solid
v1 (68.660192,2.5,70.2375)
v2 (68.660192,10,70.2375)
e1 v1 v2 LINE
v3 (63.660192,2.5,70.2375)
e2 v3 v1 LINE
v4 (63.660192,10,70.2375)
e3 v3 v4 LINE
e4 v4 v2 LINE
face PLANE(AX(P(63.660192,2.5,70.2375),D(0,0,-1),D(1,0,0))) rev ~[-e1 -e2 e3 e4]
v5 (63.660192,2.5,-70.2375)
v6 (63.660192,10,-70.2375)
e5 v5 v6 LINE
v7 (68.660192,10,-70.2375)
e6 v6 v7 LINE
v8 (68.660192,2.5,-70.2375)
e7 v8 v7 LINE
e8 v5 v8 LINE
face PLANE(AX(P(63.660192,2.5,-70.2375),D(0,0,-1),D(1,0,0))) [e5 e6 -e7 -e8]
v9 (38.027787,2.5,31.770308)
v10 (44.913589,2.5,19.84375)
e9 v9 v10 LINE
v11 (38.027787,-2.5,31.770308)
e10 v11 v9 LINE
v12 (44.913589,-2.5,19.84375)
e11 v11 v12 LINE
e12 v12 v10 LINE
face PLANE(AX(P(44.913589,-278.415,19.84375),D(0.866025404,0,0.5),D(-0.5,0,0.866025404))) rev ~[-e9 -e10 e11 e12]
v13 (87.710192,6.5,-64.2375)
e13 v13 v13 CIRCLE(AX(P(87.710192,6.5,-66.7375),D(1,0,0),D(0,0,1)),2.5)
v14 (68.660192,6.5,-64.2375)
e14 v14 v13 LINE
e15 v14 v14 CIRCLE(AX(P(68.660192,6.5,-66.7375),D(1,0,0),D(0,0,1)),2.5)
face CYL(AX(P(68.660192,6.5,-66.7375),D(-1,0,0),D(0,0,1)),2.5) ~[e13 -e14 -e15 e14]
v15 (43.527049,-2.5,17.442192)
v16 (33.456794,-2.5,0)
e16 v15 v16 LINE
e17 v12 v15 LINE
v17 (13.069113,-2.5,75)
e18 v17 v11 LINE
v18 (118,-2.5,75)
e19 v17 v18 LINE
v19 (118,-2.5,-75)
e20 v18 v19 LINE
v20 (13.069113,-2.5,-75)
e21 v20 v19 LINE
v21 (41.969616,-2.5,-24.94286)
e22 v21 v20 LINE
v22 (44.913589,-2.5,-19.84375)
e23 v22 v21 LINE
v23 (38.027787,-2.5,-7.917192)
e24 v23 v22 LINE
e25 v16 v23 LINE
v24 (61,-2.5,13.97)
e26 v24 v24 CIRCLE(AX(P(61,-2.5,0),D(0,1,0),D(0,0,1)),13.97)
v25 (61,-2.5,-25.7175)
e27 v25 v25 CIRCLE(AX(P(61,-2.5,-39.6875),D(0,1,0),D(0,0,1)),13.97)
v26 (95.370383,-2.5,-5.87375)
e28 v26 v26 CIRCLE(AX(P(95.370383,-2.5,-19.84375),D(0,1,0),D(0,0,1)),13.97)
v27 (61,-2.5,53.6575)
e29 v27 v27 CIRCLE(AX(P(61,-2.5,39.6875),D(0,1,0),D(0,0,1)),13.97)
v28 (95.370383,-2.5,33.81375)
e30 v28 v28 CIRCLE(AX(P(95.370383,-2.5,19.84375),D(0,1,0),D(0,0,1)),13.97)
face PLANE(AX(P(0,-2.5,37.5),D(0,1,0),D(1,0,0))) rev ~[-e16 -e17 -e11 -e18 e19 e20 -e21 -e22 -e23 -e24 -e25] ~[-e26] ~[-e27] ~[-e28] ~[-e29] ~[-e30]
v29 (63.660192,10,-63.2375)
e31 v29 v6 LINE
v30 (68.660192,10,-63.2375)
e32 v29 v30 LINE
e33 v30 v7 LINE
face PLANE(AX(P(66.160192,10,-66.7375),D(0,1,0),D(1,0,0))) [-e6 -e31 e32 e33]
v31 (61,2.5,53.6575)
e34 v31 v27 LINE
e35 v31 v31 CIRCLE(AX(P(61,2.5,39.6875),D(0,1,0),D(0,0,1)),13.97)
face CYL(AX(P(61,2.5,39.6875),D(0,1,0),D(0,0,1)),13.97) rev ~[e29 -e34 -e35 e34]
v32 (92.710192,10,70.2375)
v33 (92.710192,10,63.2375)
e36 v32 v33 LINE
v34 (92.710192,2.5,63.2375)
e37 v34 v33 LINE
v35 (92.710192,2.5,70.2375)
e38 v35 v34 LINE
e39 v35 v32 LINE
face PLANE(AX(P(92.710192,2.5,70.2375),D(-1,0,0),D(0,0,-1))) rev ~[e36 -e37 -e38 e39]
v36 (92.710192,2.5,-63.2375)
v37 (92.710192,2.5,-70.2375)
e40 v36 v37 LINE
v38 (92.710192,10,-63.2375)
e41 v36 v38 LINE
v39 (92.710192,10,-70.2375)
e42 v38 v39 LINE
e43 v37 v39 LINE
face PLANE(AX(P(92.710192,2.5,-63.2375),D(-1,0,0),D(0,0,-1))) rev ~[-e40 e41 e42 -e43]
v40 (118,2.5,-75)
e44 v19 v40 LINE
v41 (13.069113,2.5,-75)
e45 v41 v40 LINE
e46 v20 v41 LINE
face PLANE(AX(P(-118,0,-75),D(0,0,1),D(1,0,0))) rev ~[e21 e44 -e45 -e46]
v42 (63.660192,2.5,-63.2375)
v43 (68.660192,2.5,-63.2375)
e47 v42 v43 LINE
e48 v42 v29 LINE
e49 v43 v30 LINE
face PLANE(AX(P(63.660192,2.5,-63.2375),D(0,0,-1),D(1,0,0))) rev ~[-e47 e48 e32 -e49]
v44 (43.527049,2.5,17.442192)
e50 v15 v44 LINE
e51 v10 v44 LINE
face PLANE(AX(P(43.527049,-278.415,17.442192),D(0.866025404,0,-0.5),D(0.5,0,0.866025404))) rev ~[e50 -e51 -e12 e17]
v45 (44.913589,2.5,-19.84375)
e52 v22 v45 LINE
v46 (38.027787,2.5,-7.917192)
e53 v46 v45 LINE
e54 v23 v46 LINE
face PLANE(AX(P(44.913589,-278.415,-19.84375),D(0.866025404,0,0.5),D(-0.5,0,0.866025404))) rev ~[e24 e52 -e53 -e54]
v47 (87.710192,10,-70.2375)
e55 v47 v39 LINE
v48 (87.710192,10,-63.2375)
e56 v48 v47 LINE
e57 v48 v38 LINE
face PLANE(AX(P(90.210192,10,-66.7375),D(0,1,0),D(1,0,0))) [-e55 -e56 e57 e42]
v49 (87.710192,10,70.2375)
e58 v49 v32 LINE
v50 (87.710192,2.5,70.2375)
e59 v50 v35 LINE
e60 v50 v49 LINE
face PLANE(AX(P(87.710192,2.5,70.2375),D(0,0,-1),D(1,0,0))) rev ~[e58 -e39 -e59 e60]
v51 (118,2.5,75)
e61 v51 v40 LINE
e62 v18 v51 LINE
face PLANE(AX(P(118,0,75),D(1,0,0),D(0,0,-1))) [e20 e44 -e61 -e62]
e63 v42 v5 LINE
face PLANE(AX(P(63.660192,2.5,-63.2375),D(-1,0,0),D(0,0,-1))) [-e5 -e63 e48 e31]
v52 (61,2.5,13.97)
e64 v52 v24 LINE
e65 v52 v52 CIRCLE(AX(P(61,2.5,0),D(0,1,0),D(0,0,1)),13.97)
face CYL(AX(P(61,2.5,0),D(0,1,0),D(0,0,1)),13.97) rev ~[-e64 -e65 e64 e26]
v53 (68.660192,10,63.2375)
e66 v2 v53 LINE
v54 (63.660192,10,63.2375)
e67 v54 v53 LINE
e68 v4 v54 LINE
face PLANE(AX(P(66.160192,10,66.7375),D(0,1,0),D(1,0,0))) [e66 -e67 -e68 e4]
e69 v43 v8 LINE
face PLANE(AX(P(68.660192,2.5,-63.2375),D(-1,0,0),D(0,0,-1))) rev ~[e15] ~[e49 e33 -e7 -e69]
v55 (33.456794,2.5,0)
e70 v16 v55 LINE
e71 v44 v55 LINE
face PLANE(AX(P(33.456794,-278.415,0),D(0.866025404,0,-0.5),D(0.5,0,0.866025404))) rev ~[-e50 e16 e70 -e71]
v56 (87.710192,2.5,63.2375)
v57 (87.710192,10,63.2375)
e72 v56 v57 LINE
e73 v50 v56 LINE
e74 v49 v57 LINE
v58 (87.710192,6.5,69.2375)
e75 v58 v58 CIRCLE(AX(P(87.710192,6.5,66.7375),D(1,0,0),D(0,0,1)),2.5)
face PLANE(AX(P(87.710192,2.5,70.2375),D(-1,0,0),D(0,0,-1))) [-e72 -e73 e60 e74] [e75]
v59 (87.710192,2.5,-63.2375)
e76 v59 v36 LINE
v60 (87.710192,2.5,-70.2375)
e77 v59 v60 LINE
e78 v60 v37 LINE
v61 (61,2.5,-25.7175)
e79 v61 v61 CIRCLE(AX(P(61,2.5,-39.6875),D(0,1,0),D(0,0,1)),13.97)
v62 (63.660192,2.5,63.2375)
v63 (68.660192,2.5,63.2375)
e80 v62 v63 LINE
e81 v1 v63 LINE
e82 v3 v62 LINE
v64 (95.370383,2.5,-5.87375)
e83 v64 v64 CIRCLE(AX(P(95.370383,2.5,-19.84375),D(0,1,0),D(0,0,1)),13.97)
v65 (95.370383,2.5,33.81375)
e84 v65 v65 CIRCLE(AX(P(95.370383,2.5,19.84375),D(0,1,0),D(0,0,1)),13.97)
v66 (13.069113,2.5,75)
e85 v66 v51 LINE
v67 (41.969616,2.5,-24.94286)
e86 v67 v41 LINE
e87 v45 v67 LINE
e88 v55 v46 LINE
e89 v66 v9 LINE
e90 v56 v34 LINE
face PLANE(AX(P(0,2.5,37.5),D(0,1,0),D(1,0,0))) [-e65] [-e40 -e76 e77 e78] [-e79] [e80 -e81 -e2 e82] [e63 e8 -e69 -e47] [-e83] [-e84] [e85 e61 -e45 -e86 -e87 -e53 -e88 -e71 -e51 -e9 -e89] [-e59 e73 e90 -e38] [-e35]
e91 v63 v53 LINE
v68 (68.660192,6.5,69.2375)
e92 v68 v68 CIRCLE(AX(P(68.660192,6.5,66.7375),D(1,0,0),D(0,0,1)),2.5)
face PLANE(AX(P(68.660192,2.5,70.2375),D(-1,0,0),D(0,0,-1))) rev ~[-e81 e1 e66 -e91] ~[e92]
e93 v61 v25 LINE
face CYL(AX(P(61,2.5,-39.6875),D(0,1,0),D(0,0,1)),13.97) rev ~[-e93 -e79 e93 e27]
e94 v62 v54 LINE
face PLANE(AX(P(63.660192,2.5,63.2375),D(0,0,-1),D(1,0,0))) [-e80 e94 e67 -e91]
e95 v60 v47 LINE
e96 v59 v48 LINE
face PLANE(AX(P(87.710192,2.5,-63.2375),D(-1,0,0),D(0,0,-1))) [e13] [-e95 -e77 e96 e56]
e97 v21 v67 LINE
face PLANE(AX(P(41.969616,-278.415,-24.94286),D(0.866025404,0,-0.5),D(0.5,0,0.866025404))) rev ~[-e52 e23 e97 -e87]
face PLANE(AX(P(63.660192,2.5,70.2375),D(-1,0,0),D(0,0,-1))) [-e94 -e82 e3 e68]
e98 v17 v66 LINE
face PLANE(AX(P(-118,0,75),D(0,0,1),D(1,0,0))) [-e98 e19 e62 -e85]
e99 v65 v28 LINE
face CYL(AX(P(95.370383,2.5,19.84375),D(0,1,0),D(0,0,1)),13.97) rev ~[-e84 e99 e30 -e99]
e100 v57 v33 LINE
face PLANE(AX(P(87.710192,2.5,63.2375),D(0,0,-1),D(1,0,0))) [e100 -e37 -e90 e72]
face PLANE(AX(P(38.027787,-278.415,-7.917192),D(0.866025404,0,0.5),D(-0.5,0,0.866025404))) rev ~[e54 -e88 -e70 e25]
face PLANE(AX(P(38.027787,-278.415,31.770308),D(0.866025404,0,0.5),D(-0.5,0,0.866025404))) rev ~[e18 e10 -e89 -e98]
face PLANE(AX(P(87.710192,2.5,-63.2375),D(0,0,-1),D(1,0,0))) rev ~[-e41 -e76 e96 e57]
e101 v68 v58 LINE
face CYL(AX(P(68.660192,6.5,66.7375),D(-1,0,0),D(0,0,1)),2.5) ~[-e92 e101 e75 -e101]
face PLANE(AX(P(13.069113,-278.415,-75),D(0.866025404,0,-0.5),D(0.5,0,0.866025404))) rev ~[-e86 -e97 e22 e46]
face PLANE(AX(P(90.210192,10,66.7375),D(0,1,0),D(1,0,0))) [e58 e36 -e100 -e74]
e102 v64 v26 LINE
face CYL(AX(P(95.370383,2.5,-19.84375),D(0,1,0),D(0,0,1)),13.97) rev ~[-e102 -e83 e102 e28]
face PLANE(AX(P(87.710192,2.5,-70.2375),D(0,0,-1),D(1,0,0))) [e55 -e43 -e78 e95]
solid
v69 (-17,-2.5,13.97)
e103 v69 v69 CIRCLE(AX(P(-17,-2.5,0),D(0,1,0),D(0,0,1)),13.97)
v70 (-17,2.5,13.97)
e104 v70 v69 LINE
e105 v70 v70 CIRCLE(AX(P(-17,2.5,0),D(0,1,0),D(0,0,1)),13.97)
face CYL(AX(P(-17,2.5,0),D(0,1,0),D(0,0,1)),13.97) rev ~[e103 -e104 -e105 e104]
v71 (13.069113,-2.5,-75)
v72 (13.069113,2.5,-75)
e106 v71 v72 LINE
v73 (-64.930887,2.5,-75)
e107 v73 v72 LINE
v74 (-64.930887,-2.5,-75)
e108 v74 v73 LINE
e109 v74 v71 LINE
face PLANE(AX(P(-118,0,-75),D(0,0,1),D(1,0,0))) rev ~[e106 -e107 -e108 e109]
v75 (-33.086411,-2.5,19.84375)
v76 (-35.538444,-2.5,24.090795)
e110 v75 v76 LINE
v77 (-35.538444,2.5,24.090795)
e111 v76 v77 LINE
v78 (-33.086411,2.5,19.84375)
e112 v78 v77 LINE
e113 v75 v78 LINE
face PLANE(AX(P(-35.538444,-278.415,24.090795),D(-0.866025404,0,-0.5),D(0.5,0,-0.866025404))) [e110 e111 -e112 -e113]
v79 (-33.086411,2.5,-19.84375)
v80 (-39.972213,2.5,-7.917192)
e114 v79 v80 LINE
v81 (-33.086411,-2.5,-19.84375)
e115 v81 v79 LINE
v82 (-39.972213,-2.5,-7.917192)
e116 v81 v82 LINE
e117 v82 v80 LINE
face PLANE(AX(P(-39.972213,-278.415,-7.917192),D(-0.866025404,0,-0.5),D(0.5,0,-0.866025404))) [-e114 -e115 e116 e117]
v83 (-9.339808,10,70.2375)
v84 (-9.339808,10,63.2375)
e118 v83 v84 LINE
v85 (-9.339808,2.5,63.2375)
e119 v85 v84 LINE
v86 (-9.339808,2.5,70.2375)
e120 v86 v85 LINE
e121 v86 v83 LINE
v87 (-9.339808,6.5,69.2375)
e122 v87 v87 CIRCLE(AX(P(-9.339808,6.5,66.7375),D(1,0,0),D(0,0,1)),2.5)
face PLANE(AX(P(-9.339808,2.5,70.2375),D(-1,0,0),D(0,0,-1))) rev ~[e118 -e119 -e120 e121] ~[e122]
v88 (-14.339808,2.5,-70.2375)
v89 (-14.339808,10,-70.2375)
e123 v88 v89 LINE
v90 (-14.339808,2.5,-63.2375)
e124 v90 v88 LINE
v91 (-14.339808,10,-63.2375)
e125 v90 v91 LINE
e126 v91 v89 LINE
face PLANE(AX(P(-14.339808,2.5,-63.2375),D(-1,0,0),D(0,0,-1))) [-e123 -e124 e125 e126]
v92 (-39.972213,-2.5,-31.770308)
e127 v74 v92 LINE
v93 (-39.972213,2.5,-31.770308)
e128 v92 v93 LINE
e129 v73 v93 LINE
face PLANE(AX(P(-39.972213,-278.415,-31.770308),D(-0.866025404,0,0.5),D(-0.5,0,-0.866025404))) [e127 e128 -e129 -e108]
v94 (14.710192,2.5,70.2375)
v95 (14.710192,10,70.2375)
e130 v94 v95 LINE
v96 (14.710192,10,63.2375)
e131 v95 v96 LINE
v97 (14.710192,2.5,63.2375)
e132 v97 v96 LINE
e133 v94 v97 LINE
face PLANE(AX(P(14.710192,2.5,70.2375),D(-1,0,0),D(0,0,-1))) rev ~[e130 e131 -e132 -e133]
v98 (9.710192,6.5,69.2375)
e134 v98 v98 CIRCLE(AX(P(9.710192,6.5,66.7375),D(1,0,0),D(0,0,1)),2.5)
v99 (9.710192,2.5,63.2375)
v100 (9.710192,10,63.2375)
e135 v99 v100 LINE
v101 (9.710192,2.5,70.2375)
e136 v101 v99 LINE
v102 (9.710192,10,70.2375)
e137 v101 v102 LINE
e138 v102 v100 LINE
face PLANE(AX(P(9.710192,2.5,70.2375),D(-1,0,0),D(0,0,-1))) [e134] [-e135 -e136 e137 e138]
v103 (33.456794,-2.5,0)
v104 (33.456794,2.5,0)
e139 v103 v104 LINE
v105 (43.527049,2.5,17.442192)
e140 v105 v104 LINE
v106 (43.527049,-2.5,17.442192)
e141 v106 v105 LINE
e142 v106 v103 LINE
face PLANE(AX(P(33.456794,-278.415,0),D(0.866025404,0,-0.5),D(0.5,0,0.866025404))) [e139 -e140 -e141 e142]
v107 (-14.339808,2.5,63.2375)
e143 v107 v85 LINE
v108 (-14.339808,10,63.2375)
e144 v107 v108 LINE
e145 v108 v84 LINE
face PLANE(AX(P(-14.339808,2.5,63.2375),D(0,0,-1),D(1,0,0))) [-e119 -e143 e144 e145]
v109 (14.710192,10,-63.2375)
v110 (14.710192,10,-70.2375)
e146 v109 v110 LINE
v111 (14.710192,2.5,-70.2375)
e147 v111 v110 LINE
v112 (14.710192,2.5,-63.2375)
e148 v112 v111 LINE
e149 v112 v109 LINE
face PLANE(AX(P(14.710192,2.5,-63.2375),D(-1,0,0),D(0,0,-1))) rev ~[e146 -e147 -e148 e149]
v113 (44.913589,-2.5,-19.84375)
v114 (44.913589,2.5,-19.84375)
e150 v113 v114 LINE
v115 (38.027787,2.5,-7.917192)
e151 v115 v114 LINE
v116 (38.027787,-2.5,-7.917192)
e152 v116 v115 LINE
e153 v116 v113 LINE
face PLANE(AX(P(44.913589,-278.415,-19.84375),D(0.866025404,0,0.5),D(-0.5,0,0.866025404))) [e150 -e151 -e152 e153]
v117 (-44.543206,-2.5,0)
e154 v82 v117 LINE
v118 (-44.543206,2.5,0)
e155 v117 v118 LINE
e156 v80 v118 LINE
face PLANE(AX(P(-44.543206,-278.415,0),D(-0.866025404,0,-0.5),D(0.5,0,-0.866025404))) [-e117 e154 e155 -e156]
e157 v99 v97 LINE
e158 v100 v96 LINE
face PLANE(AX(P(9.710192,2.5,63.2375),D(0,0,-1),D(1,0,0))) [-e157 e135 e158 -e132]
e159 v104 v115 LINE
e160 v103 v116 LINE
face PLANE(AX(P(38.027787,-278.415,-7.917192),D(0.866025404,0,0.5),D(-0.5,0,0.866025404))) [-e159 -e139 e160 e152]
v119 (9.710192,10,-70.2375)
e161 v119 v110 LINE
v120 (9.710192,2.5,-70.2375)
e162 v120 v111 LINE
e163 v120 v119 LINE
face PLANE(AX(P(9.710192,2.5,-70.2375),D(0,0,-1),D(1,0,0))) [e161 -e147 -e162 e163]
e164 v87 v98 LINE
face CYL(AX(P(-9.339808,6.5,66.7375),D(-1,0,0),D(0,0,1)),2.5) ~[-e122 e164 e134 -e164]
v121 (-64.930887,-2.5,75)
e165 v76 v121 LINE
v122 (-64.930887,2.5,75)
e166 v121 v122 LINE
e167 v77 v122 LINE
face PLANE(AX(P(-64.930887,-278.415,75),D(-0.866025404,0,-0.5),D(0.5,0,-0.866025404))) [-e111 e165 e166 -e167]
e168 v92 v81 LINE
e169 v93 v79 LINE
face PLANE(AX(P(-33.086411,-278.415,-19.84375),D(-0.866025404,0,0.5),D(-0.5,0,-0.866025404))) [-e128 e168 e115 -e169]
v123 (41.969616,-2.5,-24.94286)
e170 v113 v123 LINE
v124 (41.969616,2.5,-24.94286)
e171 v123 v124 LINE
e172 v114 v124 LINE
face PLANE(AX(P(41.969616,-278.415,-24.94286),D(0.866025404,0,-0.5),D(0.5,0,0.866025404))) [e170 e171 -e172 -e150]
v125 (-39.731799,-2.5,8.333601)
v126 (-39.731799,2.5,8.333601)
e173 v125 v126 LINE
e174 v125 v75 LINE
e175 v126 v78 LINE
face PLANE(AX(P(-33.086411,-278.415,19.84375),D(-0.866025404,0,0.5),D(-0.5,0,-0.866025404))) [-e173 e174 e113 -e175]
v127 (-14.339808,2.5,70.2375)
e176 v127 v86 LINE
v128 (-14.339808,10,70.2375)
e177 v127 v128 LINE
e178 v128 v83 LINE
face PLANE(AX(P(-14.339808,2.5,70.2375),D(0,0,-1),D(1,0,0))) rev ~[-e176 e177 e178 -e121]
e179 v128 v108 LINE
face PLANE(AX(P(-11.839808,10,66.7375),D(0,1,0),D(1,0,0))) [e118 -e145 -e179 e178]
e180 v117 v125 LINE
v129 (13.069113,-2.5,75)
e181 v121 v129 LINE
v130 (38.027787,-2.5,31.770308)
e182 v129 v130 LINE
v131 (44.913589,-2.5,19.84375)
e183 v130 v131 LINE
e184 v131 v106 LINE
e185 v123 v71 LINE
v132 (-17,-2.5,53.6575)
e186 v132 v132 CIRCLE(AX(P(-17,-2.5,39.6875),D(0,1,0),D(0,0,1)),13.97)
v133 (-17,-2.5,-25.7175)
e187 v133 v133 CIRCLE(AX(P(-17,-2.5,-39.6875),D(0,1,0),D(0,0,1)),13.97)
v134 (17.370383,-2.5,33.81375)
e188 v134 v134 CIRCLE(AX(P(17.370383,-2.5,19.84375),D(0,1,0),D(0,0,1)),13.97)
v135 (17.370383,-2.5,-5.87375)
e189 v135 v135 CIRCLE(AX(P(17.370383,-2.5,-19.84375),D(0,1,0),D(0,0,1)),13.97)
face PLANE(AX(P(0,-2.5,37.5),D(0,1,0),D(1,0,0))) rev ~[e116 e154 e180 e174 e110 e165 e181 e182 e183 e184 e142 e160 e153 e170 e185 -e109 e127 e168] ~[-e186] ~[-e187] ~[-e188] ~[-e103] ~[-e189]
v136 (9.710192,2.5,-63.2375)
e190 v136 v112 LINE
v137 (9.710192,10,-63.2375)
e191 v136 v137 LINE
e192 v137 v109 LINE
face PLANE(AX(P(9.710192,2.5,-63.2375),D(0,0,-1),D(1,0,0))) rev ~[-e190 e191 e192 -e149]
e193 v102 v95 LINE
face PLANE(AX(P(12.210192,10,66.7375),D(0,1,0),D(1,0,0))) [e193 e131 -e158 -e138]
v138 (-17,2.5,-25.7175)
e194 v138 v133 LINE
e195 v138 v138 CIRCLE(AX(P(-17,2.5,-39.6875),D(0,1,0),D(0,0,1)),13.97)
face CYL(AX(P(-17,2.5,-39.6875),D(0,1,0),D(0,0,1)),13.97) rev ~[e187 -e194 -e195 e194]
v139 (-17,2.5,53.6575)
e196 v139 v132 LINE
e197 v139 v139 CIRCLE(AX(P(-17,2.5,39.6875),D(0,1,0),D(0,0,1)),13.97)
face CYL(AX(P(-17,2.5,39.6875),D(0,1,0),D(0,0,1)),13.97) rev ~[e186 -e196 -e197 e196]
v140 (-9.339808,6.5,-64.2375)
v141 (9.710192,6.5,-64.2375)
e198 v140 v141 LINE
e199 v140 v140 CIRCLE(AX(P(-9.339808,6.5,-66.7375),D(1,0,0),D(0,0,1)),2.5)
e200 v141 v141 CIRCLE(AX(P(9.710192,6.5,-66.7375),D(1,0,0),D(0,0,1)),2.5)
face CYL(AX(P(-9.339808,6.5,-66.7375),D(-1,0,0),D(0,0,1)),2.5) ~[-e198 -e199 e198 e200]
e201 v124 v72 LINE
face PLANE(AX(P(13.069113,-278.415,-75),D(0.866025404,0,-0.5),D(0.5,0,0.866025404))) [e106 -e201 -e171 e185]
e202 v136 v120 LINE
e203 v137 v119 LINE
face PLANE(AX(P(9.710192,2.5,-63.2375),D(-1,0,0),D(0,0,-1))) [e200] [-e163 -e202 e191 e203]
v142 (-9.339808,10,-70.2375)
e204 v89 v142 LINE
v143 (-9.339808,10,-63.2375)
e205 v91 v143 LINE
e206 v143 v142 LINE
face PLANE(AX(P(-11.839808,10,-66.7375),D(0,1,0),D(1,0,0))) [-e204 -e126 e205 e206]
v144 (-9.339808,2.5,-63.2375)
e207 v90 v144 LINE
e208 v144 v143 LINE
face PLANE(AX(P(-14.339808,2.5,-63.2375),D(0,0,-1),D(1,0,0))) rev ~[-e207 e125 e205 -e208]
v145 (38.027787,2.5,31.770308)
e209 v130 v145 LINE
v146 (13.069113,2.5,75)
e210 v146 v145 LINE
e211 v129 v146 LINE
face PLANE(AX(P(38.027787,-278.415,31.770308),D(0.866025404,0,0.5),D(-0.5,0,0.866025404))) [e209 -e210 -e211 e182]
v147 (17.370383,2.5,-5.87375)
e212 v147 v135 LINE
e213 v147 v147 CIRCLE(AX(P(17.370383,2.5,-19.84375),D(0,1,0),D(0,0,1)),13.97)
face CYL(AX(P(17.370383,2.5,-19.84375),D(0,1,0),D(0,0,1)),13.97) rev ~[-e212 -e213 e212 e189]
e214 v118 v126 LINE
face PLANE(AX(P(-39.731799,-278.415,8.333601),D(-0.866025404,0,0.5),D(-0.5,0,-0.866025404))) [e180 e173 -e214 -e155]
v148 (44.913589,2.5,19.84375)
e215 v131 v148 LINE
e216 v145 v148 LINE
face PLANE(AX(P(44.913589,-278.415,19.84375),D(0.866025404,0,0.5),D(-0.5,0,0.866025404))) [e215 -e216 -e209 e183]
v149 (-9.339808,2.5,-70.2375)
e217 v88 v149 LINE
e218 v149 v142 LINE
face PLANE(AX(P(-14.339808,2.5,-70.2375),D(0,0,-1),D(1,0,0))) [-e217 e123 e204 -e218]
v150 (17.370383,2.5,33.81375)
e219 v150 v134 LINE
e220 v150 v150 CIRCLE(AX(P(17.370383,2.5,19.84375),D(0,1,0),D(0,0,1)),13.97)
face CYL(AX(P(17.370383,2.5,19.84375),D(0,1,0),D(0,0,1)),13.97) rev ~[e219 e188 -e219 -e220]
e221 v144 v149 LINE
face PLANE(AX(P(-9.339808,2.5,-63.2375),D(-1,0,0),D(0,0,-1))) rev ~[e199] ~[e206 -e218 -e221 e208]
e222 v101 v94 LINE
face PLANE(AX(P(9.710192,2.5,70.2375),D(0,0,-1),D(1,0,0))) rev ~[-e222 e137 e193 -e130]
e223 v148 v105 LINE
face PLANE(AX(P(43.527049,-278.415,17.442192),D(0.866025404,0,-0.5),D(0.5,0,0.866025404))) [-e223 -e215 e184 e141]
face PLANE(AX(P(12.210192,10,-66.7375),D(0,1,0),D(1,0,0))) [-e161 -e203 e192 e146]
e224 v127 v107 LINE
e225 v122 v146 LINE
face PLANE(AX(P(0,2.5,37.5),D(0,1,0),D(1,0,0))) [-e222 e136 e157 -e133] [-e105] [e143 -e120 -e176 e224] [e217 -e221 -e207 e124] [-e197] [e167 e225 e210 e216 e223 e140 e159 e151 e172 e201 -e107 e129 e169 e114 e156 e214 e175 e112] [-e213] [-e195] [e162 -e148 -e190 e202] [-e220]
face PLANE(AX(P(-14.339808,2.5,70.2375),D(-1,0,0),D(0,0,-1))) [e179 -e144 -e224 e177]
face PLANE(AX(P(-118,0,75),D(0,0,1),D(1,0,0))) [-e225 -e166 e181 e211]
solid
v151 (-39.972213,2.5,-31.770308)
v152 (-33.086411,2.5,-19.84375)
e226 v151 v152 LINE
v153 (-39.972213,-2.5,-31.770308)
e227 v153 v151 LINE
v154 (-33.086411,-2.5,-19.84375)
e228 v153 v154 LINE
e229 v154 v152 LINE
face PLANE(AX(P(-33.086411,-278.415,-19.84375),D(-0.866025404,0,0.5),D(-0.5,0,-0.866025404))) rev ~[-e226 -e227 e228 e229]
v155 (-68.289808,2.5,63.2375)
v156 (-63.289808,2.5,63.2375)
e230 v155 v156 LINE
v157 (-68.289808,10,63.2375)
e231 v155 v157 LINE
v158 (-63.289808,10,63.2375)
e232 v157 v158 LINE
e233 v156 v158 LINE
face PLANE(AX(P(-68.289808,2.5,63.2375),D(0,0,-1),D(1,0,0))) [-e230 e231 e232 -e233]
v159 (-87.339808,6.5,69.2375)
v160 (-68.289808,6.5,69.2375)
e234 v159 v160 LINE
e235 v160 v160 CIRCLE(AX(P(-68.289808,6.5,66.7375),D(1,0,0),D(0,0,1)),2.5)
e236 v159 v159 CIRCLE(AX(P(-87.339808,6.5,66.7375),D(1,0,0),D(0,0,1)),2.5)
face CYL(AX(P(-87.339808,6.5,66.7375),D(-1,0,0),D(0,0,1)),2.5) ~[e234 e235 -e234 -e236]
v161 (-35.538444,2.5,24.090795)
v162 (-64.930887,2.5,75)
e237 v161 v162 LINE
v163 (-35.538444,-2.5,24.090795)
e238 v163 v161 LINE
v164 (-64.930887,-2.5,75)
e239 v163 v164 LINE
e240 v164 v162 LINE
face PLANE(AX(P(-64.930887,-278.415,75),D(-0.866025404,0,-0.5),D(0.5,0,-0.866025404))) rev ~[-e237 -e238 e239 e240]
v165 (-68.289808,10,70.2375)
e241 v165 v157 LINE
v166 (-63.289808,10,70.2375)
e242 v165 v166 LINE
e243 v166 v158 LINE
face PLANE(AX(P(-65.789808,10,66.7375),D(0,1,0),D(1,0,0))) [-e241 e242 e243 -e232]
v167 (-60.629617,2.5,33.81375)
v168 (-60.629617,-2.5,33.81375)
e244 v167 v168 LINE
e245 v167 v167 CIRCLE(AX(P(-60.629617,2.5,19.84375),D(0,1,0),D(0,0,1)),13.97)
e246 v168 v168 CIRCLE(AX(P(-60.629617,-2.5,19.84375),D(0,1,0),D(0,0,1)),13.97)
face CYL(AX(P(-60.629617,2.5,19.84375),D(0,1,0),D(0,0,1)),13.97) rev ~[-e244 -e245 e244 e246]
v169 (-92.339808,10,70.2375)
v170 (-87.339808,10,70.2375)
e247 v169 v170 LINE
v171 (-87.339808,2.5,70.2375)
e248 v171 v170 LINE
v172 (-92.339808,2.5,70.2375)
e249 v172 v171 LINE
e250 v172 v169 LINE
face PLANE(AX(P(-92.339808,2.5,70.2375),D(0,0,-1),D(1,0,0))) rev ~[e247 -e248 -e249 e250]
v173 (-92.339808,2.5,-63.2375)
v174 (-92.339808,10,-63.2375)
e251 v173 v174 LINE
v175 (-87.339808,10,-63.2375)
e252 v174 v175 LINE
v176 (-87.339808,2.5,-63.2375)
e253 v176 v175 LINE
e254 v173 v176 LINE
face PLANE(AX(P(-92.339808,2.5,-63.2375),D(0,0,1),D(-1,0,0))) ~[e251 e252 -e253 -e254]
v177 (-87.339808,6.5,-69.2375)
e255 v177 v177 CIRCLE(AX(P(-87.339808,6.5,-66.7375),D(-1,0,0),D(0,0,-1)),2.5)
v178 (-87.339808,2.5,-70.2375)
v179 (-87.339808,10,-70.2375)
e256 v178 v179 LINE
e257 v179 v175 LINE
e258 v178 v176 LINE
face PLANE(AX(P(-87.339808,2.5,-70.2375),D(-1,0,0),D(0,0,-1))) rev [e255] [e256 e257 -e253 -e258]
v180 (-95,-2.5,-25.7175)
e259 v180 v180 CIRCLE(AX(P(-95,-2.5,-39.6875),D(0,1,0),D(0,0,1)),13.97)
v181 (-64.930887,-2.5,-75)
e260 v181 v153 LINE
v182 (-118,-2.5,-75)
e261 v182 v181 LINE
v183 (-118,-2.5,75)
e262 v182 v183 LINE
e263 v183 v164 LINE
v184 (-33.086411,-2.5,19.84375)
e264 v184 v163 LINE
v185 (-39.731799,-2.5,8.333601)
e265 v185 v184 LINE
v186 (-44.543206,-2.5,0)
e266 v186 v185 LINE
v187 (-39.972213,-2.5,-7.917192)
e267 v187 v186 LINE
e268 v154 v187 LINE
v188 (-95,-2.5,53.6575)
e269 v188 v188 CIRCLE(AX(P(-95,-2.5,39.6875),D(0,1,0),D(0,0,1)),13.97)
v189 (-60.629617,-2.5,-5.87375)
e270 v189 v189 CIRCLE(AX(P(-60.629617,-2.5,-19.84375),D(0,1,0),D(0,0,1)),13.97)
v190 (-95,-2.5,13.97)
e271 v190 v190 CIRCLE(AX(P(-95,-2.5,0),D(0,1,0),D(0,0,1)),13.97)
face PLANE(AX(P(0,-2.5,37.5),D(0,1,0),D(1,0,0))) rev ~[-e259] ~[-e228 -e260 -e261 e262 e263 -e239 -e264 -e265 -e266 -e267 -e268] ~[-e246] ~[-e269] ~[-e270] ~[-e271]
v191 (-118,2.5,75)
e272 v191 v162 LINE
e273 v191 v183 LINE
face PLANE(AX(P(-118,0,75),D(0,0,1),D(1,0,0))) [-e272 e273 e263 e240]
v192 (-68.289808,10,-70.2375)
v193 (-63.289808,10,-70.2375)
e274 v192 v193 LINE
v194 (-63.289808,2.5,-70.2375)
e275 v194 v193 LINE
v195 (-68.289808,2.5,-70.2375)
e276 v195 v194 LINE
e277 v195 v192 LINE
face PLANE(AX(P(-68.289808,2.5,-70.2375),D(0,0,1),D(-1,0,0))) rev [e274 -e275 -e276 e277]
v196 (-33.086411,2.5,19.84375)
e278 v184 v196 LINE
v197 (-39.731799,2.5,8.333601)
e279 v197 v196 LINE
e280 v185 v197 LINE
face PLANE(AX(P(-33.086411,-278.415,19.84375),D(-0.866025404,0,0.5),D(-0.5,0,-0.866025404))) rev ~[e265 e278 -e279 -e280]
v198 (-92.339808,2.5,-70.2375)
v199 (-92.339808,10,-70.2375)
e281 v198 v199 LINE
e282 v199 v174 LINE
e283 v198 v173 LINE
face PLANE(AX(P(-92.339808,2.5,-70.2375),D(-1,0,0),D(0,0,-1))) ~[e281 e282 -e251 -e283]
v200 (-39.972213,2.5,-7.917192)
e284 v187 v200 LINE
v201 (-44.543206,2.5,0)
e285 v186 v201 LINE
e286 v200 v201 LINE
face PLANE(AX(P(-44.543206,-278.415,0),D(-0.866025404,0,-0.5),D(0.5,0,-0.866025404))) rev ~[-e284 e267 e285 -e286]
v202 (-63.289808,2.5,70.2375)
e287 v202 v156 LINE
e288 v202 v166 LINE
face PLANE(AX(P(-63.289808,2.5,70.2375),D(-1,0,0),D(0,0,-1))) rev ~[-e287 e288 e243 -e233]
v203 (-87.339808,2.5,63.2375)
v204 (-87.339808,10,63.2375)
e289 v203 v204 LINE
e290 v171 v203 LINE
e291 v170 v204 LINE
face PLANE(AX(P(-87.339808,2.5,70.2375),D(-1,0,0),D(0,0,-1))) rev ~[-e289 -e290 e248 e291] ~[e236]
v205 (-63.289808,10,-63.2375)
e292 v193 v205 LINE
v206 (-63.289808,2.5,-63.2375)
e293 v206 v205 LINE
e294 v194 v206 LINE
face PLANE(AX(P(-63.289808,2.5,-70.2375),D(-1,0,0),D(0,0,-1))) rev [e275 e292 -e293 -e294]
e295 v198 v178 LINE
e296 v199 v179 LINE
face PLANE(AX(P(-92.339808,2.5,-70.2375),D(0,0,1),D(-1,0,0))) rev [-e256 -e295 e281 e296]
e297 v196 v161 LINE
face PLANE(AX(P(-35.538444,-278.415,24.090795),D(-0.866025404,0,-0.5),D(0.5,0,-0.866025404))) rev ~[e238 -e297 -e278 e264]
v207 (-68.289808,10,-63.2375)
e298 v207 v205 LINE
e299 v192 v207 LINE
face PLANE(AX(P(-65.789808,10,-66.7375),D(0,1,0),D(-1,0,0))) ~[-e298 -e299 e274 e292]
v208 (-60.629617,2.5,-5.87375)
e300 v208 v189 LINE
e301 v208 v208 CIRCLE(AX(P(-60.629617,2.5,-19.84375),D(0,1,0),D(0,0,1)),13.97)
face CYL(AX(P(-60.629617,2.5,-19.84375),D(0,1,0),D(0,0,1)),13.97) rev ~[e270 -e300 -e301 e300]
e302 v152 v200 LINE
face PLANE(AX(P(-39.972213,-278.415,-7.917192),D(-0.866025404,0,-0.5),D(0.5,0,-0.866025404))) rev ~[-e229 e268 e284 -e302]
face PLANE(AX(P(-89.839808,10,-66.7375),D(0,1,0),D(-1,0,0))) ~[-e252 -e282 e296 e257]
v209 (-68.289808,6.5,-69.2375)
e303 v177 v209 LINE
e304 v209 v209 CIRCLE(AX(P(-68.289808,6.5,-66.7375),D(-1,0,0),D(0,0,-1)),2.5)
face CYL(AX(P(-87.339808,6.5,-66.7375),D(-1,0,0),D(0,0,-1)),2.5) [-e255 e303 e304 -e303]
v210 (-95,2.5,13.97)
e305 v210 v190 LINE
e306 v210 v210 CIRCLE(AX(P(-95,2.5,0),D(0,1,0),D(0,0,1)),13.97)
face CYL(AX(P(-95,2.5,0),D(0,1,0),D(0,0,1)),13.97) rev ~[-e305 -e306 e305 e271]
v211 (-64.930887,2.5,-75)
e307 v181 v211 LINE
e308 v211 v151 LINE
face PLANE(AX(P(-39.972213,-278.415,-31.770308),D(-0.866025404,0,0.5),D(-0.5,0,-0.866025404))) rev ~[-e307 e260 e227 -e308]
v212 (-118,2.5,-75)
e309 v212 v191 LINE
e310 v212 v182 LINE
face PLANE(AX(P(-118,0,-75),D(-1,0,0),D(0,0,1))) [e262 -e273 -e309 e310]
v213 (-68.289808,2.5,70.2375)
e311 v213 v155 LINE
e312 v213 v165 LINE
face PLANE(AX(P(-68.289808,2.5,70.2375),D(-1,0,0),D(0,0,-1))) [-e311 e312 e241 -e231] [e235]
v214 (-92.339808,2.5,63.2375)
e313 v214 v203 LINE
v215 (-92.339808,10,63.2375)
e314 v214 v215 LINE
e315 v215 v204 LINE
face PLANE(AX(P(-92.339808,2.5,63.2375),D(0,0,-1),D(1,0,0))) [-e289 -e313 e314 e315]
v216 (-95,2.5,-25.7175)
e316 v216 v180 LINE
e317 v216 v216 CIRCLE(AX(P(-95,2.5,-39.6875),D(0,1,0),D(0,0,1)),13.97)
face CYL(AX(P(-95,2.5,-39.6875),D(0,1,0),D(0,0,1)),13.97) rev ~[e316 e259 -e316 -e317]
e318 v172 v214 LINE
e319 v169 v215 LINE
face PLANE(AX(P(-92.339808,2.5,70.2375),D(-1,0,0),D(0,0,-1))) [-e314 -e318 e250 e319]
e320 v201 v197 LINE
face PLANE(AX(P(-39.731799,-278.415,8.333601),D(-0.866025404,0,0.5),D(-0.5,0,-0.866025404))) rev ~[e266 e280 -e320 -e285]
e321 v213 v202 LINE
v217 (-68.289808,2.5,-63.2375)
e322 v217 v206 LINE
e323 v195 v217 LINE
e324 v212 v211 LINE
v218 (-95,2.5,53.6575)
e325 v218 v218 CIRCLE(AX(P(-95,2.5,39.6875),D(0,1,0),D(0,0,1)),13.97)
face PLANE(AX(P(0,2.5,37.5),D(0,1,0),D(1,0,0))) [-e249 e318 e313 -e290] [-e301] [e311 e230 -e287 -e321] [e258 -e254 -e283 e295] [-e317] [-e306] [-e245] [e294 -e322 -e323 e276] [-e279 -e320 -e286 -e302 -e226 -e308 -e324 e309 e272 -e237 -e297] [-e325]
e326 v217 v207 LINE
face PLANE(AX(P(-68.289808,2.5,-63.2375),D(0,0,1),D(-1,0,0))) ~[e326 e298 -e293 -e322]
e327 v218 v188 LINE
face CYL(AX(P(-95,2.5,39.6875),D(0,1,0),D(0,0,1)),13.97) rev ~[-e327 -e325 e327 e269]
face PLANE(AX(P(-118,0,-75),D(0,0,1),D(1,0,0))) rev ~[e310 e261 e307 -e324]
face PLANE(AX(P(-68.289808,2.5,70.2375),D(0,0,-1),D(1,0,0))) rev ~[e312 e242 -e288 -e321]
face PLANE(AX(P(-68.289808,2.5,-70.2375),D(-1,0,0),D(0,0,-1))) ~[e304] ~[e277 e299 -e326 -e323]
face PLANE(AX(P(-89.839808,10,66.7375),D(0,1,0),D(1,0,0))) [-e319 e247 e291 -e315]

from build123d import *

# Parameters (mm, degrees)
SKETCH1_W                 = 236
SKETCH1_H                 = 75
BOSS_EXTRUDE1_DEPTH       = 2.5
SKETCH4_R                 = 13.97
CUT_EXTRUDE1_DEPTH        = 10.4
LPATTERN1_COUNT           = 3
LPATTERN1_PITCH           = 78
SKETCH10_W                = 5
SKETCH10_H                = 7
BOSS_EXTRUDE2_DEPTH       = 7.5
SKETCH11_R                = 2.5
BOSS_EXTRUDE3_DEPTH       = 19.05
LPATTERN2_COUNT           = 3
LPATTERN2_PITCH           = 78
LPATTERN2_COPY_1_SKETCH_W = 5
LPATTERN2_COPY_1_SKETCH_H = 7
LPATTERN2_COPY_1_DEPTH    = 7.5
LPATTERN2_COPY_2_SKETCH_W = 5
LPATTERN2_COPY_2_SKETCH_H = 7
LPATTERN2_COPY_2_DEPTH    = 7.5
LPATTERN2_COPY_3_SKETCH_R = 2.5
LPATTERN2_COPY_3_DEPTH    = 19.05
LPATTERN2_COPY_4_SKETCH_R = 2.5
LPATTERN2_COPY_4_DEPTH    = 19.05
SPLIT1_SURFACE_1_1_BACK   = 280.915
SPLIT1_SURFACE_1_1_DEPTH  = 561.83
SPLIT1_SURFACE_1_2_BACK   = 280.915
SPLIT1_SURFACE_1_2_DEPTH  = 561.83
SPLIT1_SURFACE_2_3_BACK   = 280.915
SPLIT1_SURFACE_2_3_DEPTH  = 561.83
SPLIT1_SURFACE_2_4_BACK   = 280.915
SPLIT1_SURFACE_2_4_DEPTH  = 561.83


with BuildPart() as part:
    # Sketch1 → Boss-Extrude1 (new, symmetric)
    with BuildSketch(Plane(origin=(0, 0, 0), x_dir=(1, 0, 0), z_dir=(0, 1, 0))):
        with Locations((0, -37.5)):
            Rectangle(SKETCH1_W, SKETCH1_H)
        with Locations((0, 37.5)):
            Rectangle(SKETCH1_W, SKETCH1_H)
    extrude(amount=BOSS_EXTRUDE1_DEPTH, both=True)

    # Sketch4 → Cut-Extrude1 (cut)
    with BuildSketch(Plane(origin=(0, 2.5, 0), x_dir=(1, 0, 0), z_dir=(0, 1, 0))):
        with Locations(Location((-95, 0, 0), (0, 0, 270))):
            Circle(SKETCH4_R)
        with Locations(Location((-95, -39.6875, 0), (0, 0, 270))):
            Circle(SKETCH4_R)
        with Locations(Location((-95, 39.6875, 0), (0, 0, 270))):
            Circle(SKETCH4_R)
        with Locations(Location((-60.629616787, 19.84375, 0), (0, 0, 270))):
            Circle(SKETCH4_R)
        with Locations(Location((-60.629616787, -19.84375, 0), (0, 0, 270))):
            Circle(SKETCH4_R)
    cut_extrude1 = extrude(amount=-CUT_EXTRUDE1_DEPTH, mode=Mode.SUBTRACT)

    # LPattern1: Cut-Extrude1 ×3
    with Locations(*[(i * LPATTERN1_PITCH, 0, 0) for i in range(1, LPATTERN1_COUNT)]):
        add(cut_extrude1, mode=Mode.SUBTRACT)

    # Sketch10 → Boss-Extrude2 (add)
    with BuildSketch(Plane(origin=(0, 2.5, 0), x_dir=(1, 0, 0), z_dir=(0, 1, 0))):
        with Locations((-89.839808394, -66.7375)):
            Rectangle(SKETCH10_W, SKETCH10_H)
        with Locations((-65.789808394, -66.7375)):
            Rectangle(SKETCH10_W, SKETCH10_H)
    boss_extrude2 = extrude(amount=BOSS_EXTRUDE2_DEPTH)

    # Sketch11 → Boss-Extrude3 (add)
    with BuildSketch(Plane(origin=(-87.339808394, 0, 0), x_dir=(0, 0, -1), z_dir=(1, 0, 0))):
        with Locations(Location((-66.7375, 6.5, 0), (0, 0, 180))):
            Circle(SKETCH11_R)
    boss_extrude3 = extrude(amount=BOSS_EXTRUDE3_DEPTH)

    # Mirror1: Boss-Extrude2, Boss-Extrude3 across plane
    add(boss_extrude2.mirror(Plane.XY))
    add(boss_extrude3.mirror(Plane.XY))

    # LPattern2: Boss-Extrude2, Boss-Extrude3 ×3
    with Locations(*[(i * LPATTERN2_PITCH, 0, 0) for i in range(1, LPATTERN2_COUNT)]):
        add(boss_extrude2)
        add(boss_extrude3)

    # LPattern2 copy 1 sketch → LPattern2 copy 1 (add)
    with BuildSketch(Plane(origin=(78, 2.5, 0), x_dir=(1, 0, 0), z_dir=(0, 1, 0))):
        with Locations((-89.839808394, 66.7375)):
            Rectangle(LPATTERN2_COPY_1_SKETCH_W, LPATTERN2_COPY_1_SKETCH_H)
        with Locations((-65.789808394, 66.7375)):
            Rectangle(LPATTERN2_COPY_1_SKETCH_W, LPATTERN2_COPY_1_SKETCH_H)
    extrude(amount=LPATTERN2_COPY_1_DEPTH)

    # LPattern2 copy 2 sketch → LPattern2 copy 2 (add)
    with BuildSketch(Plane(origin=(156, 2.5, 0), x_dir=(1, 0, 0), z_dir=(0, 1, 0))):
        with Locations((-89.839808394, 66.7375)):
            Rectangle(LPATTERN2_COPY_2_SKETCH_W, LPATTERN2_COPY_2_SKETCH_H)
        with Locations((-65.789808394, 66.7375)):
            Rectangle(LPATTERN2_COPY_2_SKETCH_W, LPATTERN2_COPY_2_SKETCH_H)
    extrude(amount=LPATTERN2_COPY_2_DEPTH)

    # LPattern2 copy 3 sketch → LPattern2 copy 3 (add)
    with BuildSketch(Plane(origin=(-9.339808394, 0, 0), x_dir=(0, 0, 1), z_dir=(1, 0, 0))):
        with Locations((-66.7375, -6.5)):
            Circle(LPATTERN2_COPY_3_SKETCH_R)
    extrude(amount=LPATTERN2_COPY_3_DEPTH)

    # LPattern2 copy 4 sketch → LPattern2 copy 4 (add)
    with BuildSketch(Plane(origin=(68.660191606, 0, 0), x_dir=(0, 0, 1), z_dir=(1, 0, 0))):
        with Locations((-66.7375, -6.5)):
            Circle(LPATTERN2_COPY_4_SKETCH_R)
    extrude(amount=LPATTERN2_COPY_4_DEPTH)


with BuildPart() as body_2:
    # Split1: the piece behind the surface
    add(part.part)
    # Split1 surface 1: a surface, the sketch's curves swept straight by 561.83 mm
    with BuildLine(Plane(origin=(0, 2.5, 0), x_dir=(1, 0, 0), z_dir=(0, 1, 0)).offset(-SPLIT1_SURFACE_1_1_BACK), mode=Mode.PRIVATE) as split1_surface_1_1_path:
        Line((-64.930886977, -75), (-35.53844397, -24.090795355))
        Line((-35.53844397, -24.090795355), (-33.086411192, -19.84375))
        Line((-33.086411192, -19.84375), (-39.731799052, -8.333600589))
        Line((-39.731799052, -8.333600589), (-44.543205596, 0))
        Line((-44.543205596, 0), (-39.97221259, 7.917192126))
        Line((-39.97221259, 7.917192126), (-33.086411192, 19.84375))
        Line((-33.086411192, 19.84375), (-39.97221259, 31.770307874))
        Line((-39.97221259, 31.770307874), (-64.930886977, 75))
    split1_surface_1_1 = Shell.extrude(split1_surface_1_1_path.wire(), (0 * SPLIT1_SURFACE_1_1_DEPTH, 1 * SPLIT1_SURFACE_1_1_DEPTH, 0 * SPLIT1_SURFACE_1_1_DEPTH))
    split(bisect_by=split1_surface_1_1, keep=Keep.BOTTOM)


with BuildPart() as part_1:
    add(part.part)

    # Split1: split by a surface, the side it looks to stays
    # Split1 surface 1: a surface, the sketch's curves swept straight by 561.83 mm
    with BuildLine(Plane(origin=(0, 2.5, 0), x_dir=(1, 0, 0), z_dir=(0, 1, 0)).offset(-SPLIT1_SURFACE_1_2_BACK), mode=Mode.PRIVATE) as split1_surface_1_2_path:
        Line((-64.930886977, -75), (-35.53844397, -24.090795355))
        Line((-35.53844397, -24.090795355), (-33.086411192, -19.84375))
        Line((-33.086411192, -19.84375), (-39.731799052, -8.333600589))
        Line((-39.731799052, -8.333600589), (-44.543205596, 0))
        Line((-44.543205596, 0), (-39.97221259, 7.917192126))
        Line((-39.97221259, 7.917192126), (-33.086411192, 19.84375))
        Line((-33.086411192, 19.84375), (-39.97221259, 31.770307874))
        Line((-39.97221259, 31.770307874), (-64.930886977, 75))
    split1_surface_1_2 = Shell.extrude(split1_surface_1_2_path.wire(), (0 * SPLIT1_SURFACE_1_2_DEPTH, 1 * SPLIT1_SURFACE_1_2_DEPTH, 0 * SPLIT1_SURFACE_1_2_DEPTH))
    split(bisect_by=split1_surface_1_2, keep=Keep.TOP)


with BuildPart() as body_3:
    # Split1 2 body 2: the piece behind the surface
    add(body_2.part)
    # Split1 surface 2: a surface, the sketch's curves swept straight by 561.83 mm
    with BuildLine(Plane(origin=(0, 2.5, 0), x_dir=(1, 0, 0), z_dir=(0, 1, 0)).offset(-SPLIT1_SURFACE_2_3_BACK), mode=Mode.PRIVATE) as split1_surface_2_3_path:
        Line((13.069113023, 75), (41.969616323, 24.942859921))
        Line((41.969616323, 24.942859921), (44.913588808, 19.84375))
        Line((44.913588808, 19.84375), (38.02778741, 7.917192126))
        Line((38.02778741, 7.917192126), (33.456794404, 0))
        Line((33.456794404, 0), (43.527048724, -17.442192126))
        Line((43.527048724, -17.442192126), (44.913588808, -19.84375))
        Line((44.913588808, -19.84375), (38.02778741, -31.770307874))
        Line((38.02778741, -31.770307874), (13.069113023, -75))
    split1_surface_2_3 = Shell.extrude(split1_surface_2_3_path.wire(), (0 * SPLIT1_SURFACE_2_3_DEPTH, 1 * SPLIT1_SURFACE_2_3_DEPTH, 0 * SPLIT1_SURFACE_2_3_DEPTH))
    split(bisect_by=split1_surface_2_3, keep=Keep.BOTTOM)


with BuildPart() as body_2_1:
    add(body_2.part)

    # Split1 2 body 2: split by a surface, the side it looks to stays
    # Split1 surface 2: a surface, the sketch's curves swept straight by 561.83 mm
    with BuildLine(Plane(origin=(0, 2.5, 0), x_dir=(1, 0, 0), z_dir=(0, 1, 0)).offset(-SPLIT1_SURFACE_2_4_BACK), mode=Mode.PRIVATE) as split1_surface_2_4_path:
        Line((13.069113023, 75), (41.969616323, 24.942859921))
        Line((41.969616323, 24.942859921), (44.913588808, 19.84375))
        Line((44.913588808, 19.84375), (38.02778741, 7.917192126))
        Line((38.02778741, 7.917192126), (33.456794404, 0))
        Line((33.456794404, 0), (43.527048724, -17.442192126))
        Line((43.527048724, -17.442192126), (44.913588808, -19.84375))
        Line((44.913588808, -19.84375), (38.02778741, -31.770307874))
        Line((38.02778741, -31.770307874), (13.069113023, -75))
    split1_surface_2_4 = Shell.extrude(split1_surface_2_4_path.wire(), (0 * SPLIT1_SURFACE_2_4_DEPTH, 1 * SPLIT1_SURFACE_2_4_DEPTH, 0 * SPLIT1_SURFACE_2_4_DEPTH))
    split(bisect_by=split1_surface_2_4, keep=Keep.TOP)


solid = Compound([part_1.part, body_3.part, body_2_1.part])
